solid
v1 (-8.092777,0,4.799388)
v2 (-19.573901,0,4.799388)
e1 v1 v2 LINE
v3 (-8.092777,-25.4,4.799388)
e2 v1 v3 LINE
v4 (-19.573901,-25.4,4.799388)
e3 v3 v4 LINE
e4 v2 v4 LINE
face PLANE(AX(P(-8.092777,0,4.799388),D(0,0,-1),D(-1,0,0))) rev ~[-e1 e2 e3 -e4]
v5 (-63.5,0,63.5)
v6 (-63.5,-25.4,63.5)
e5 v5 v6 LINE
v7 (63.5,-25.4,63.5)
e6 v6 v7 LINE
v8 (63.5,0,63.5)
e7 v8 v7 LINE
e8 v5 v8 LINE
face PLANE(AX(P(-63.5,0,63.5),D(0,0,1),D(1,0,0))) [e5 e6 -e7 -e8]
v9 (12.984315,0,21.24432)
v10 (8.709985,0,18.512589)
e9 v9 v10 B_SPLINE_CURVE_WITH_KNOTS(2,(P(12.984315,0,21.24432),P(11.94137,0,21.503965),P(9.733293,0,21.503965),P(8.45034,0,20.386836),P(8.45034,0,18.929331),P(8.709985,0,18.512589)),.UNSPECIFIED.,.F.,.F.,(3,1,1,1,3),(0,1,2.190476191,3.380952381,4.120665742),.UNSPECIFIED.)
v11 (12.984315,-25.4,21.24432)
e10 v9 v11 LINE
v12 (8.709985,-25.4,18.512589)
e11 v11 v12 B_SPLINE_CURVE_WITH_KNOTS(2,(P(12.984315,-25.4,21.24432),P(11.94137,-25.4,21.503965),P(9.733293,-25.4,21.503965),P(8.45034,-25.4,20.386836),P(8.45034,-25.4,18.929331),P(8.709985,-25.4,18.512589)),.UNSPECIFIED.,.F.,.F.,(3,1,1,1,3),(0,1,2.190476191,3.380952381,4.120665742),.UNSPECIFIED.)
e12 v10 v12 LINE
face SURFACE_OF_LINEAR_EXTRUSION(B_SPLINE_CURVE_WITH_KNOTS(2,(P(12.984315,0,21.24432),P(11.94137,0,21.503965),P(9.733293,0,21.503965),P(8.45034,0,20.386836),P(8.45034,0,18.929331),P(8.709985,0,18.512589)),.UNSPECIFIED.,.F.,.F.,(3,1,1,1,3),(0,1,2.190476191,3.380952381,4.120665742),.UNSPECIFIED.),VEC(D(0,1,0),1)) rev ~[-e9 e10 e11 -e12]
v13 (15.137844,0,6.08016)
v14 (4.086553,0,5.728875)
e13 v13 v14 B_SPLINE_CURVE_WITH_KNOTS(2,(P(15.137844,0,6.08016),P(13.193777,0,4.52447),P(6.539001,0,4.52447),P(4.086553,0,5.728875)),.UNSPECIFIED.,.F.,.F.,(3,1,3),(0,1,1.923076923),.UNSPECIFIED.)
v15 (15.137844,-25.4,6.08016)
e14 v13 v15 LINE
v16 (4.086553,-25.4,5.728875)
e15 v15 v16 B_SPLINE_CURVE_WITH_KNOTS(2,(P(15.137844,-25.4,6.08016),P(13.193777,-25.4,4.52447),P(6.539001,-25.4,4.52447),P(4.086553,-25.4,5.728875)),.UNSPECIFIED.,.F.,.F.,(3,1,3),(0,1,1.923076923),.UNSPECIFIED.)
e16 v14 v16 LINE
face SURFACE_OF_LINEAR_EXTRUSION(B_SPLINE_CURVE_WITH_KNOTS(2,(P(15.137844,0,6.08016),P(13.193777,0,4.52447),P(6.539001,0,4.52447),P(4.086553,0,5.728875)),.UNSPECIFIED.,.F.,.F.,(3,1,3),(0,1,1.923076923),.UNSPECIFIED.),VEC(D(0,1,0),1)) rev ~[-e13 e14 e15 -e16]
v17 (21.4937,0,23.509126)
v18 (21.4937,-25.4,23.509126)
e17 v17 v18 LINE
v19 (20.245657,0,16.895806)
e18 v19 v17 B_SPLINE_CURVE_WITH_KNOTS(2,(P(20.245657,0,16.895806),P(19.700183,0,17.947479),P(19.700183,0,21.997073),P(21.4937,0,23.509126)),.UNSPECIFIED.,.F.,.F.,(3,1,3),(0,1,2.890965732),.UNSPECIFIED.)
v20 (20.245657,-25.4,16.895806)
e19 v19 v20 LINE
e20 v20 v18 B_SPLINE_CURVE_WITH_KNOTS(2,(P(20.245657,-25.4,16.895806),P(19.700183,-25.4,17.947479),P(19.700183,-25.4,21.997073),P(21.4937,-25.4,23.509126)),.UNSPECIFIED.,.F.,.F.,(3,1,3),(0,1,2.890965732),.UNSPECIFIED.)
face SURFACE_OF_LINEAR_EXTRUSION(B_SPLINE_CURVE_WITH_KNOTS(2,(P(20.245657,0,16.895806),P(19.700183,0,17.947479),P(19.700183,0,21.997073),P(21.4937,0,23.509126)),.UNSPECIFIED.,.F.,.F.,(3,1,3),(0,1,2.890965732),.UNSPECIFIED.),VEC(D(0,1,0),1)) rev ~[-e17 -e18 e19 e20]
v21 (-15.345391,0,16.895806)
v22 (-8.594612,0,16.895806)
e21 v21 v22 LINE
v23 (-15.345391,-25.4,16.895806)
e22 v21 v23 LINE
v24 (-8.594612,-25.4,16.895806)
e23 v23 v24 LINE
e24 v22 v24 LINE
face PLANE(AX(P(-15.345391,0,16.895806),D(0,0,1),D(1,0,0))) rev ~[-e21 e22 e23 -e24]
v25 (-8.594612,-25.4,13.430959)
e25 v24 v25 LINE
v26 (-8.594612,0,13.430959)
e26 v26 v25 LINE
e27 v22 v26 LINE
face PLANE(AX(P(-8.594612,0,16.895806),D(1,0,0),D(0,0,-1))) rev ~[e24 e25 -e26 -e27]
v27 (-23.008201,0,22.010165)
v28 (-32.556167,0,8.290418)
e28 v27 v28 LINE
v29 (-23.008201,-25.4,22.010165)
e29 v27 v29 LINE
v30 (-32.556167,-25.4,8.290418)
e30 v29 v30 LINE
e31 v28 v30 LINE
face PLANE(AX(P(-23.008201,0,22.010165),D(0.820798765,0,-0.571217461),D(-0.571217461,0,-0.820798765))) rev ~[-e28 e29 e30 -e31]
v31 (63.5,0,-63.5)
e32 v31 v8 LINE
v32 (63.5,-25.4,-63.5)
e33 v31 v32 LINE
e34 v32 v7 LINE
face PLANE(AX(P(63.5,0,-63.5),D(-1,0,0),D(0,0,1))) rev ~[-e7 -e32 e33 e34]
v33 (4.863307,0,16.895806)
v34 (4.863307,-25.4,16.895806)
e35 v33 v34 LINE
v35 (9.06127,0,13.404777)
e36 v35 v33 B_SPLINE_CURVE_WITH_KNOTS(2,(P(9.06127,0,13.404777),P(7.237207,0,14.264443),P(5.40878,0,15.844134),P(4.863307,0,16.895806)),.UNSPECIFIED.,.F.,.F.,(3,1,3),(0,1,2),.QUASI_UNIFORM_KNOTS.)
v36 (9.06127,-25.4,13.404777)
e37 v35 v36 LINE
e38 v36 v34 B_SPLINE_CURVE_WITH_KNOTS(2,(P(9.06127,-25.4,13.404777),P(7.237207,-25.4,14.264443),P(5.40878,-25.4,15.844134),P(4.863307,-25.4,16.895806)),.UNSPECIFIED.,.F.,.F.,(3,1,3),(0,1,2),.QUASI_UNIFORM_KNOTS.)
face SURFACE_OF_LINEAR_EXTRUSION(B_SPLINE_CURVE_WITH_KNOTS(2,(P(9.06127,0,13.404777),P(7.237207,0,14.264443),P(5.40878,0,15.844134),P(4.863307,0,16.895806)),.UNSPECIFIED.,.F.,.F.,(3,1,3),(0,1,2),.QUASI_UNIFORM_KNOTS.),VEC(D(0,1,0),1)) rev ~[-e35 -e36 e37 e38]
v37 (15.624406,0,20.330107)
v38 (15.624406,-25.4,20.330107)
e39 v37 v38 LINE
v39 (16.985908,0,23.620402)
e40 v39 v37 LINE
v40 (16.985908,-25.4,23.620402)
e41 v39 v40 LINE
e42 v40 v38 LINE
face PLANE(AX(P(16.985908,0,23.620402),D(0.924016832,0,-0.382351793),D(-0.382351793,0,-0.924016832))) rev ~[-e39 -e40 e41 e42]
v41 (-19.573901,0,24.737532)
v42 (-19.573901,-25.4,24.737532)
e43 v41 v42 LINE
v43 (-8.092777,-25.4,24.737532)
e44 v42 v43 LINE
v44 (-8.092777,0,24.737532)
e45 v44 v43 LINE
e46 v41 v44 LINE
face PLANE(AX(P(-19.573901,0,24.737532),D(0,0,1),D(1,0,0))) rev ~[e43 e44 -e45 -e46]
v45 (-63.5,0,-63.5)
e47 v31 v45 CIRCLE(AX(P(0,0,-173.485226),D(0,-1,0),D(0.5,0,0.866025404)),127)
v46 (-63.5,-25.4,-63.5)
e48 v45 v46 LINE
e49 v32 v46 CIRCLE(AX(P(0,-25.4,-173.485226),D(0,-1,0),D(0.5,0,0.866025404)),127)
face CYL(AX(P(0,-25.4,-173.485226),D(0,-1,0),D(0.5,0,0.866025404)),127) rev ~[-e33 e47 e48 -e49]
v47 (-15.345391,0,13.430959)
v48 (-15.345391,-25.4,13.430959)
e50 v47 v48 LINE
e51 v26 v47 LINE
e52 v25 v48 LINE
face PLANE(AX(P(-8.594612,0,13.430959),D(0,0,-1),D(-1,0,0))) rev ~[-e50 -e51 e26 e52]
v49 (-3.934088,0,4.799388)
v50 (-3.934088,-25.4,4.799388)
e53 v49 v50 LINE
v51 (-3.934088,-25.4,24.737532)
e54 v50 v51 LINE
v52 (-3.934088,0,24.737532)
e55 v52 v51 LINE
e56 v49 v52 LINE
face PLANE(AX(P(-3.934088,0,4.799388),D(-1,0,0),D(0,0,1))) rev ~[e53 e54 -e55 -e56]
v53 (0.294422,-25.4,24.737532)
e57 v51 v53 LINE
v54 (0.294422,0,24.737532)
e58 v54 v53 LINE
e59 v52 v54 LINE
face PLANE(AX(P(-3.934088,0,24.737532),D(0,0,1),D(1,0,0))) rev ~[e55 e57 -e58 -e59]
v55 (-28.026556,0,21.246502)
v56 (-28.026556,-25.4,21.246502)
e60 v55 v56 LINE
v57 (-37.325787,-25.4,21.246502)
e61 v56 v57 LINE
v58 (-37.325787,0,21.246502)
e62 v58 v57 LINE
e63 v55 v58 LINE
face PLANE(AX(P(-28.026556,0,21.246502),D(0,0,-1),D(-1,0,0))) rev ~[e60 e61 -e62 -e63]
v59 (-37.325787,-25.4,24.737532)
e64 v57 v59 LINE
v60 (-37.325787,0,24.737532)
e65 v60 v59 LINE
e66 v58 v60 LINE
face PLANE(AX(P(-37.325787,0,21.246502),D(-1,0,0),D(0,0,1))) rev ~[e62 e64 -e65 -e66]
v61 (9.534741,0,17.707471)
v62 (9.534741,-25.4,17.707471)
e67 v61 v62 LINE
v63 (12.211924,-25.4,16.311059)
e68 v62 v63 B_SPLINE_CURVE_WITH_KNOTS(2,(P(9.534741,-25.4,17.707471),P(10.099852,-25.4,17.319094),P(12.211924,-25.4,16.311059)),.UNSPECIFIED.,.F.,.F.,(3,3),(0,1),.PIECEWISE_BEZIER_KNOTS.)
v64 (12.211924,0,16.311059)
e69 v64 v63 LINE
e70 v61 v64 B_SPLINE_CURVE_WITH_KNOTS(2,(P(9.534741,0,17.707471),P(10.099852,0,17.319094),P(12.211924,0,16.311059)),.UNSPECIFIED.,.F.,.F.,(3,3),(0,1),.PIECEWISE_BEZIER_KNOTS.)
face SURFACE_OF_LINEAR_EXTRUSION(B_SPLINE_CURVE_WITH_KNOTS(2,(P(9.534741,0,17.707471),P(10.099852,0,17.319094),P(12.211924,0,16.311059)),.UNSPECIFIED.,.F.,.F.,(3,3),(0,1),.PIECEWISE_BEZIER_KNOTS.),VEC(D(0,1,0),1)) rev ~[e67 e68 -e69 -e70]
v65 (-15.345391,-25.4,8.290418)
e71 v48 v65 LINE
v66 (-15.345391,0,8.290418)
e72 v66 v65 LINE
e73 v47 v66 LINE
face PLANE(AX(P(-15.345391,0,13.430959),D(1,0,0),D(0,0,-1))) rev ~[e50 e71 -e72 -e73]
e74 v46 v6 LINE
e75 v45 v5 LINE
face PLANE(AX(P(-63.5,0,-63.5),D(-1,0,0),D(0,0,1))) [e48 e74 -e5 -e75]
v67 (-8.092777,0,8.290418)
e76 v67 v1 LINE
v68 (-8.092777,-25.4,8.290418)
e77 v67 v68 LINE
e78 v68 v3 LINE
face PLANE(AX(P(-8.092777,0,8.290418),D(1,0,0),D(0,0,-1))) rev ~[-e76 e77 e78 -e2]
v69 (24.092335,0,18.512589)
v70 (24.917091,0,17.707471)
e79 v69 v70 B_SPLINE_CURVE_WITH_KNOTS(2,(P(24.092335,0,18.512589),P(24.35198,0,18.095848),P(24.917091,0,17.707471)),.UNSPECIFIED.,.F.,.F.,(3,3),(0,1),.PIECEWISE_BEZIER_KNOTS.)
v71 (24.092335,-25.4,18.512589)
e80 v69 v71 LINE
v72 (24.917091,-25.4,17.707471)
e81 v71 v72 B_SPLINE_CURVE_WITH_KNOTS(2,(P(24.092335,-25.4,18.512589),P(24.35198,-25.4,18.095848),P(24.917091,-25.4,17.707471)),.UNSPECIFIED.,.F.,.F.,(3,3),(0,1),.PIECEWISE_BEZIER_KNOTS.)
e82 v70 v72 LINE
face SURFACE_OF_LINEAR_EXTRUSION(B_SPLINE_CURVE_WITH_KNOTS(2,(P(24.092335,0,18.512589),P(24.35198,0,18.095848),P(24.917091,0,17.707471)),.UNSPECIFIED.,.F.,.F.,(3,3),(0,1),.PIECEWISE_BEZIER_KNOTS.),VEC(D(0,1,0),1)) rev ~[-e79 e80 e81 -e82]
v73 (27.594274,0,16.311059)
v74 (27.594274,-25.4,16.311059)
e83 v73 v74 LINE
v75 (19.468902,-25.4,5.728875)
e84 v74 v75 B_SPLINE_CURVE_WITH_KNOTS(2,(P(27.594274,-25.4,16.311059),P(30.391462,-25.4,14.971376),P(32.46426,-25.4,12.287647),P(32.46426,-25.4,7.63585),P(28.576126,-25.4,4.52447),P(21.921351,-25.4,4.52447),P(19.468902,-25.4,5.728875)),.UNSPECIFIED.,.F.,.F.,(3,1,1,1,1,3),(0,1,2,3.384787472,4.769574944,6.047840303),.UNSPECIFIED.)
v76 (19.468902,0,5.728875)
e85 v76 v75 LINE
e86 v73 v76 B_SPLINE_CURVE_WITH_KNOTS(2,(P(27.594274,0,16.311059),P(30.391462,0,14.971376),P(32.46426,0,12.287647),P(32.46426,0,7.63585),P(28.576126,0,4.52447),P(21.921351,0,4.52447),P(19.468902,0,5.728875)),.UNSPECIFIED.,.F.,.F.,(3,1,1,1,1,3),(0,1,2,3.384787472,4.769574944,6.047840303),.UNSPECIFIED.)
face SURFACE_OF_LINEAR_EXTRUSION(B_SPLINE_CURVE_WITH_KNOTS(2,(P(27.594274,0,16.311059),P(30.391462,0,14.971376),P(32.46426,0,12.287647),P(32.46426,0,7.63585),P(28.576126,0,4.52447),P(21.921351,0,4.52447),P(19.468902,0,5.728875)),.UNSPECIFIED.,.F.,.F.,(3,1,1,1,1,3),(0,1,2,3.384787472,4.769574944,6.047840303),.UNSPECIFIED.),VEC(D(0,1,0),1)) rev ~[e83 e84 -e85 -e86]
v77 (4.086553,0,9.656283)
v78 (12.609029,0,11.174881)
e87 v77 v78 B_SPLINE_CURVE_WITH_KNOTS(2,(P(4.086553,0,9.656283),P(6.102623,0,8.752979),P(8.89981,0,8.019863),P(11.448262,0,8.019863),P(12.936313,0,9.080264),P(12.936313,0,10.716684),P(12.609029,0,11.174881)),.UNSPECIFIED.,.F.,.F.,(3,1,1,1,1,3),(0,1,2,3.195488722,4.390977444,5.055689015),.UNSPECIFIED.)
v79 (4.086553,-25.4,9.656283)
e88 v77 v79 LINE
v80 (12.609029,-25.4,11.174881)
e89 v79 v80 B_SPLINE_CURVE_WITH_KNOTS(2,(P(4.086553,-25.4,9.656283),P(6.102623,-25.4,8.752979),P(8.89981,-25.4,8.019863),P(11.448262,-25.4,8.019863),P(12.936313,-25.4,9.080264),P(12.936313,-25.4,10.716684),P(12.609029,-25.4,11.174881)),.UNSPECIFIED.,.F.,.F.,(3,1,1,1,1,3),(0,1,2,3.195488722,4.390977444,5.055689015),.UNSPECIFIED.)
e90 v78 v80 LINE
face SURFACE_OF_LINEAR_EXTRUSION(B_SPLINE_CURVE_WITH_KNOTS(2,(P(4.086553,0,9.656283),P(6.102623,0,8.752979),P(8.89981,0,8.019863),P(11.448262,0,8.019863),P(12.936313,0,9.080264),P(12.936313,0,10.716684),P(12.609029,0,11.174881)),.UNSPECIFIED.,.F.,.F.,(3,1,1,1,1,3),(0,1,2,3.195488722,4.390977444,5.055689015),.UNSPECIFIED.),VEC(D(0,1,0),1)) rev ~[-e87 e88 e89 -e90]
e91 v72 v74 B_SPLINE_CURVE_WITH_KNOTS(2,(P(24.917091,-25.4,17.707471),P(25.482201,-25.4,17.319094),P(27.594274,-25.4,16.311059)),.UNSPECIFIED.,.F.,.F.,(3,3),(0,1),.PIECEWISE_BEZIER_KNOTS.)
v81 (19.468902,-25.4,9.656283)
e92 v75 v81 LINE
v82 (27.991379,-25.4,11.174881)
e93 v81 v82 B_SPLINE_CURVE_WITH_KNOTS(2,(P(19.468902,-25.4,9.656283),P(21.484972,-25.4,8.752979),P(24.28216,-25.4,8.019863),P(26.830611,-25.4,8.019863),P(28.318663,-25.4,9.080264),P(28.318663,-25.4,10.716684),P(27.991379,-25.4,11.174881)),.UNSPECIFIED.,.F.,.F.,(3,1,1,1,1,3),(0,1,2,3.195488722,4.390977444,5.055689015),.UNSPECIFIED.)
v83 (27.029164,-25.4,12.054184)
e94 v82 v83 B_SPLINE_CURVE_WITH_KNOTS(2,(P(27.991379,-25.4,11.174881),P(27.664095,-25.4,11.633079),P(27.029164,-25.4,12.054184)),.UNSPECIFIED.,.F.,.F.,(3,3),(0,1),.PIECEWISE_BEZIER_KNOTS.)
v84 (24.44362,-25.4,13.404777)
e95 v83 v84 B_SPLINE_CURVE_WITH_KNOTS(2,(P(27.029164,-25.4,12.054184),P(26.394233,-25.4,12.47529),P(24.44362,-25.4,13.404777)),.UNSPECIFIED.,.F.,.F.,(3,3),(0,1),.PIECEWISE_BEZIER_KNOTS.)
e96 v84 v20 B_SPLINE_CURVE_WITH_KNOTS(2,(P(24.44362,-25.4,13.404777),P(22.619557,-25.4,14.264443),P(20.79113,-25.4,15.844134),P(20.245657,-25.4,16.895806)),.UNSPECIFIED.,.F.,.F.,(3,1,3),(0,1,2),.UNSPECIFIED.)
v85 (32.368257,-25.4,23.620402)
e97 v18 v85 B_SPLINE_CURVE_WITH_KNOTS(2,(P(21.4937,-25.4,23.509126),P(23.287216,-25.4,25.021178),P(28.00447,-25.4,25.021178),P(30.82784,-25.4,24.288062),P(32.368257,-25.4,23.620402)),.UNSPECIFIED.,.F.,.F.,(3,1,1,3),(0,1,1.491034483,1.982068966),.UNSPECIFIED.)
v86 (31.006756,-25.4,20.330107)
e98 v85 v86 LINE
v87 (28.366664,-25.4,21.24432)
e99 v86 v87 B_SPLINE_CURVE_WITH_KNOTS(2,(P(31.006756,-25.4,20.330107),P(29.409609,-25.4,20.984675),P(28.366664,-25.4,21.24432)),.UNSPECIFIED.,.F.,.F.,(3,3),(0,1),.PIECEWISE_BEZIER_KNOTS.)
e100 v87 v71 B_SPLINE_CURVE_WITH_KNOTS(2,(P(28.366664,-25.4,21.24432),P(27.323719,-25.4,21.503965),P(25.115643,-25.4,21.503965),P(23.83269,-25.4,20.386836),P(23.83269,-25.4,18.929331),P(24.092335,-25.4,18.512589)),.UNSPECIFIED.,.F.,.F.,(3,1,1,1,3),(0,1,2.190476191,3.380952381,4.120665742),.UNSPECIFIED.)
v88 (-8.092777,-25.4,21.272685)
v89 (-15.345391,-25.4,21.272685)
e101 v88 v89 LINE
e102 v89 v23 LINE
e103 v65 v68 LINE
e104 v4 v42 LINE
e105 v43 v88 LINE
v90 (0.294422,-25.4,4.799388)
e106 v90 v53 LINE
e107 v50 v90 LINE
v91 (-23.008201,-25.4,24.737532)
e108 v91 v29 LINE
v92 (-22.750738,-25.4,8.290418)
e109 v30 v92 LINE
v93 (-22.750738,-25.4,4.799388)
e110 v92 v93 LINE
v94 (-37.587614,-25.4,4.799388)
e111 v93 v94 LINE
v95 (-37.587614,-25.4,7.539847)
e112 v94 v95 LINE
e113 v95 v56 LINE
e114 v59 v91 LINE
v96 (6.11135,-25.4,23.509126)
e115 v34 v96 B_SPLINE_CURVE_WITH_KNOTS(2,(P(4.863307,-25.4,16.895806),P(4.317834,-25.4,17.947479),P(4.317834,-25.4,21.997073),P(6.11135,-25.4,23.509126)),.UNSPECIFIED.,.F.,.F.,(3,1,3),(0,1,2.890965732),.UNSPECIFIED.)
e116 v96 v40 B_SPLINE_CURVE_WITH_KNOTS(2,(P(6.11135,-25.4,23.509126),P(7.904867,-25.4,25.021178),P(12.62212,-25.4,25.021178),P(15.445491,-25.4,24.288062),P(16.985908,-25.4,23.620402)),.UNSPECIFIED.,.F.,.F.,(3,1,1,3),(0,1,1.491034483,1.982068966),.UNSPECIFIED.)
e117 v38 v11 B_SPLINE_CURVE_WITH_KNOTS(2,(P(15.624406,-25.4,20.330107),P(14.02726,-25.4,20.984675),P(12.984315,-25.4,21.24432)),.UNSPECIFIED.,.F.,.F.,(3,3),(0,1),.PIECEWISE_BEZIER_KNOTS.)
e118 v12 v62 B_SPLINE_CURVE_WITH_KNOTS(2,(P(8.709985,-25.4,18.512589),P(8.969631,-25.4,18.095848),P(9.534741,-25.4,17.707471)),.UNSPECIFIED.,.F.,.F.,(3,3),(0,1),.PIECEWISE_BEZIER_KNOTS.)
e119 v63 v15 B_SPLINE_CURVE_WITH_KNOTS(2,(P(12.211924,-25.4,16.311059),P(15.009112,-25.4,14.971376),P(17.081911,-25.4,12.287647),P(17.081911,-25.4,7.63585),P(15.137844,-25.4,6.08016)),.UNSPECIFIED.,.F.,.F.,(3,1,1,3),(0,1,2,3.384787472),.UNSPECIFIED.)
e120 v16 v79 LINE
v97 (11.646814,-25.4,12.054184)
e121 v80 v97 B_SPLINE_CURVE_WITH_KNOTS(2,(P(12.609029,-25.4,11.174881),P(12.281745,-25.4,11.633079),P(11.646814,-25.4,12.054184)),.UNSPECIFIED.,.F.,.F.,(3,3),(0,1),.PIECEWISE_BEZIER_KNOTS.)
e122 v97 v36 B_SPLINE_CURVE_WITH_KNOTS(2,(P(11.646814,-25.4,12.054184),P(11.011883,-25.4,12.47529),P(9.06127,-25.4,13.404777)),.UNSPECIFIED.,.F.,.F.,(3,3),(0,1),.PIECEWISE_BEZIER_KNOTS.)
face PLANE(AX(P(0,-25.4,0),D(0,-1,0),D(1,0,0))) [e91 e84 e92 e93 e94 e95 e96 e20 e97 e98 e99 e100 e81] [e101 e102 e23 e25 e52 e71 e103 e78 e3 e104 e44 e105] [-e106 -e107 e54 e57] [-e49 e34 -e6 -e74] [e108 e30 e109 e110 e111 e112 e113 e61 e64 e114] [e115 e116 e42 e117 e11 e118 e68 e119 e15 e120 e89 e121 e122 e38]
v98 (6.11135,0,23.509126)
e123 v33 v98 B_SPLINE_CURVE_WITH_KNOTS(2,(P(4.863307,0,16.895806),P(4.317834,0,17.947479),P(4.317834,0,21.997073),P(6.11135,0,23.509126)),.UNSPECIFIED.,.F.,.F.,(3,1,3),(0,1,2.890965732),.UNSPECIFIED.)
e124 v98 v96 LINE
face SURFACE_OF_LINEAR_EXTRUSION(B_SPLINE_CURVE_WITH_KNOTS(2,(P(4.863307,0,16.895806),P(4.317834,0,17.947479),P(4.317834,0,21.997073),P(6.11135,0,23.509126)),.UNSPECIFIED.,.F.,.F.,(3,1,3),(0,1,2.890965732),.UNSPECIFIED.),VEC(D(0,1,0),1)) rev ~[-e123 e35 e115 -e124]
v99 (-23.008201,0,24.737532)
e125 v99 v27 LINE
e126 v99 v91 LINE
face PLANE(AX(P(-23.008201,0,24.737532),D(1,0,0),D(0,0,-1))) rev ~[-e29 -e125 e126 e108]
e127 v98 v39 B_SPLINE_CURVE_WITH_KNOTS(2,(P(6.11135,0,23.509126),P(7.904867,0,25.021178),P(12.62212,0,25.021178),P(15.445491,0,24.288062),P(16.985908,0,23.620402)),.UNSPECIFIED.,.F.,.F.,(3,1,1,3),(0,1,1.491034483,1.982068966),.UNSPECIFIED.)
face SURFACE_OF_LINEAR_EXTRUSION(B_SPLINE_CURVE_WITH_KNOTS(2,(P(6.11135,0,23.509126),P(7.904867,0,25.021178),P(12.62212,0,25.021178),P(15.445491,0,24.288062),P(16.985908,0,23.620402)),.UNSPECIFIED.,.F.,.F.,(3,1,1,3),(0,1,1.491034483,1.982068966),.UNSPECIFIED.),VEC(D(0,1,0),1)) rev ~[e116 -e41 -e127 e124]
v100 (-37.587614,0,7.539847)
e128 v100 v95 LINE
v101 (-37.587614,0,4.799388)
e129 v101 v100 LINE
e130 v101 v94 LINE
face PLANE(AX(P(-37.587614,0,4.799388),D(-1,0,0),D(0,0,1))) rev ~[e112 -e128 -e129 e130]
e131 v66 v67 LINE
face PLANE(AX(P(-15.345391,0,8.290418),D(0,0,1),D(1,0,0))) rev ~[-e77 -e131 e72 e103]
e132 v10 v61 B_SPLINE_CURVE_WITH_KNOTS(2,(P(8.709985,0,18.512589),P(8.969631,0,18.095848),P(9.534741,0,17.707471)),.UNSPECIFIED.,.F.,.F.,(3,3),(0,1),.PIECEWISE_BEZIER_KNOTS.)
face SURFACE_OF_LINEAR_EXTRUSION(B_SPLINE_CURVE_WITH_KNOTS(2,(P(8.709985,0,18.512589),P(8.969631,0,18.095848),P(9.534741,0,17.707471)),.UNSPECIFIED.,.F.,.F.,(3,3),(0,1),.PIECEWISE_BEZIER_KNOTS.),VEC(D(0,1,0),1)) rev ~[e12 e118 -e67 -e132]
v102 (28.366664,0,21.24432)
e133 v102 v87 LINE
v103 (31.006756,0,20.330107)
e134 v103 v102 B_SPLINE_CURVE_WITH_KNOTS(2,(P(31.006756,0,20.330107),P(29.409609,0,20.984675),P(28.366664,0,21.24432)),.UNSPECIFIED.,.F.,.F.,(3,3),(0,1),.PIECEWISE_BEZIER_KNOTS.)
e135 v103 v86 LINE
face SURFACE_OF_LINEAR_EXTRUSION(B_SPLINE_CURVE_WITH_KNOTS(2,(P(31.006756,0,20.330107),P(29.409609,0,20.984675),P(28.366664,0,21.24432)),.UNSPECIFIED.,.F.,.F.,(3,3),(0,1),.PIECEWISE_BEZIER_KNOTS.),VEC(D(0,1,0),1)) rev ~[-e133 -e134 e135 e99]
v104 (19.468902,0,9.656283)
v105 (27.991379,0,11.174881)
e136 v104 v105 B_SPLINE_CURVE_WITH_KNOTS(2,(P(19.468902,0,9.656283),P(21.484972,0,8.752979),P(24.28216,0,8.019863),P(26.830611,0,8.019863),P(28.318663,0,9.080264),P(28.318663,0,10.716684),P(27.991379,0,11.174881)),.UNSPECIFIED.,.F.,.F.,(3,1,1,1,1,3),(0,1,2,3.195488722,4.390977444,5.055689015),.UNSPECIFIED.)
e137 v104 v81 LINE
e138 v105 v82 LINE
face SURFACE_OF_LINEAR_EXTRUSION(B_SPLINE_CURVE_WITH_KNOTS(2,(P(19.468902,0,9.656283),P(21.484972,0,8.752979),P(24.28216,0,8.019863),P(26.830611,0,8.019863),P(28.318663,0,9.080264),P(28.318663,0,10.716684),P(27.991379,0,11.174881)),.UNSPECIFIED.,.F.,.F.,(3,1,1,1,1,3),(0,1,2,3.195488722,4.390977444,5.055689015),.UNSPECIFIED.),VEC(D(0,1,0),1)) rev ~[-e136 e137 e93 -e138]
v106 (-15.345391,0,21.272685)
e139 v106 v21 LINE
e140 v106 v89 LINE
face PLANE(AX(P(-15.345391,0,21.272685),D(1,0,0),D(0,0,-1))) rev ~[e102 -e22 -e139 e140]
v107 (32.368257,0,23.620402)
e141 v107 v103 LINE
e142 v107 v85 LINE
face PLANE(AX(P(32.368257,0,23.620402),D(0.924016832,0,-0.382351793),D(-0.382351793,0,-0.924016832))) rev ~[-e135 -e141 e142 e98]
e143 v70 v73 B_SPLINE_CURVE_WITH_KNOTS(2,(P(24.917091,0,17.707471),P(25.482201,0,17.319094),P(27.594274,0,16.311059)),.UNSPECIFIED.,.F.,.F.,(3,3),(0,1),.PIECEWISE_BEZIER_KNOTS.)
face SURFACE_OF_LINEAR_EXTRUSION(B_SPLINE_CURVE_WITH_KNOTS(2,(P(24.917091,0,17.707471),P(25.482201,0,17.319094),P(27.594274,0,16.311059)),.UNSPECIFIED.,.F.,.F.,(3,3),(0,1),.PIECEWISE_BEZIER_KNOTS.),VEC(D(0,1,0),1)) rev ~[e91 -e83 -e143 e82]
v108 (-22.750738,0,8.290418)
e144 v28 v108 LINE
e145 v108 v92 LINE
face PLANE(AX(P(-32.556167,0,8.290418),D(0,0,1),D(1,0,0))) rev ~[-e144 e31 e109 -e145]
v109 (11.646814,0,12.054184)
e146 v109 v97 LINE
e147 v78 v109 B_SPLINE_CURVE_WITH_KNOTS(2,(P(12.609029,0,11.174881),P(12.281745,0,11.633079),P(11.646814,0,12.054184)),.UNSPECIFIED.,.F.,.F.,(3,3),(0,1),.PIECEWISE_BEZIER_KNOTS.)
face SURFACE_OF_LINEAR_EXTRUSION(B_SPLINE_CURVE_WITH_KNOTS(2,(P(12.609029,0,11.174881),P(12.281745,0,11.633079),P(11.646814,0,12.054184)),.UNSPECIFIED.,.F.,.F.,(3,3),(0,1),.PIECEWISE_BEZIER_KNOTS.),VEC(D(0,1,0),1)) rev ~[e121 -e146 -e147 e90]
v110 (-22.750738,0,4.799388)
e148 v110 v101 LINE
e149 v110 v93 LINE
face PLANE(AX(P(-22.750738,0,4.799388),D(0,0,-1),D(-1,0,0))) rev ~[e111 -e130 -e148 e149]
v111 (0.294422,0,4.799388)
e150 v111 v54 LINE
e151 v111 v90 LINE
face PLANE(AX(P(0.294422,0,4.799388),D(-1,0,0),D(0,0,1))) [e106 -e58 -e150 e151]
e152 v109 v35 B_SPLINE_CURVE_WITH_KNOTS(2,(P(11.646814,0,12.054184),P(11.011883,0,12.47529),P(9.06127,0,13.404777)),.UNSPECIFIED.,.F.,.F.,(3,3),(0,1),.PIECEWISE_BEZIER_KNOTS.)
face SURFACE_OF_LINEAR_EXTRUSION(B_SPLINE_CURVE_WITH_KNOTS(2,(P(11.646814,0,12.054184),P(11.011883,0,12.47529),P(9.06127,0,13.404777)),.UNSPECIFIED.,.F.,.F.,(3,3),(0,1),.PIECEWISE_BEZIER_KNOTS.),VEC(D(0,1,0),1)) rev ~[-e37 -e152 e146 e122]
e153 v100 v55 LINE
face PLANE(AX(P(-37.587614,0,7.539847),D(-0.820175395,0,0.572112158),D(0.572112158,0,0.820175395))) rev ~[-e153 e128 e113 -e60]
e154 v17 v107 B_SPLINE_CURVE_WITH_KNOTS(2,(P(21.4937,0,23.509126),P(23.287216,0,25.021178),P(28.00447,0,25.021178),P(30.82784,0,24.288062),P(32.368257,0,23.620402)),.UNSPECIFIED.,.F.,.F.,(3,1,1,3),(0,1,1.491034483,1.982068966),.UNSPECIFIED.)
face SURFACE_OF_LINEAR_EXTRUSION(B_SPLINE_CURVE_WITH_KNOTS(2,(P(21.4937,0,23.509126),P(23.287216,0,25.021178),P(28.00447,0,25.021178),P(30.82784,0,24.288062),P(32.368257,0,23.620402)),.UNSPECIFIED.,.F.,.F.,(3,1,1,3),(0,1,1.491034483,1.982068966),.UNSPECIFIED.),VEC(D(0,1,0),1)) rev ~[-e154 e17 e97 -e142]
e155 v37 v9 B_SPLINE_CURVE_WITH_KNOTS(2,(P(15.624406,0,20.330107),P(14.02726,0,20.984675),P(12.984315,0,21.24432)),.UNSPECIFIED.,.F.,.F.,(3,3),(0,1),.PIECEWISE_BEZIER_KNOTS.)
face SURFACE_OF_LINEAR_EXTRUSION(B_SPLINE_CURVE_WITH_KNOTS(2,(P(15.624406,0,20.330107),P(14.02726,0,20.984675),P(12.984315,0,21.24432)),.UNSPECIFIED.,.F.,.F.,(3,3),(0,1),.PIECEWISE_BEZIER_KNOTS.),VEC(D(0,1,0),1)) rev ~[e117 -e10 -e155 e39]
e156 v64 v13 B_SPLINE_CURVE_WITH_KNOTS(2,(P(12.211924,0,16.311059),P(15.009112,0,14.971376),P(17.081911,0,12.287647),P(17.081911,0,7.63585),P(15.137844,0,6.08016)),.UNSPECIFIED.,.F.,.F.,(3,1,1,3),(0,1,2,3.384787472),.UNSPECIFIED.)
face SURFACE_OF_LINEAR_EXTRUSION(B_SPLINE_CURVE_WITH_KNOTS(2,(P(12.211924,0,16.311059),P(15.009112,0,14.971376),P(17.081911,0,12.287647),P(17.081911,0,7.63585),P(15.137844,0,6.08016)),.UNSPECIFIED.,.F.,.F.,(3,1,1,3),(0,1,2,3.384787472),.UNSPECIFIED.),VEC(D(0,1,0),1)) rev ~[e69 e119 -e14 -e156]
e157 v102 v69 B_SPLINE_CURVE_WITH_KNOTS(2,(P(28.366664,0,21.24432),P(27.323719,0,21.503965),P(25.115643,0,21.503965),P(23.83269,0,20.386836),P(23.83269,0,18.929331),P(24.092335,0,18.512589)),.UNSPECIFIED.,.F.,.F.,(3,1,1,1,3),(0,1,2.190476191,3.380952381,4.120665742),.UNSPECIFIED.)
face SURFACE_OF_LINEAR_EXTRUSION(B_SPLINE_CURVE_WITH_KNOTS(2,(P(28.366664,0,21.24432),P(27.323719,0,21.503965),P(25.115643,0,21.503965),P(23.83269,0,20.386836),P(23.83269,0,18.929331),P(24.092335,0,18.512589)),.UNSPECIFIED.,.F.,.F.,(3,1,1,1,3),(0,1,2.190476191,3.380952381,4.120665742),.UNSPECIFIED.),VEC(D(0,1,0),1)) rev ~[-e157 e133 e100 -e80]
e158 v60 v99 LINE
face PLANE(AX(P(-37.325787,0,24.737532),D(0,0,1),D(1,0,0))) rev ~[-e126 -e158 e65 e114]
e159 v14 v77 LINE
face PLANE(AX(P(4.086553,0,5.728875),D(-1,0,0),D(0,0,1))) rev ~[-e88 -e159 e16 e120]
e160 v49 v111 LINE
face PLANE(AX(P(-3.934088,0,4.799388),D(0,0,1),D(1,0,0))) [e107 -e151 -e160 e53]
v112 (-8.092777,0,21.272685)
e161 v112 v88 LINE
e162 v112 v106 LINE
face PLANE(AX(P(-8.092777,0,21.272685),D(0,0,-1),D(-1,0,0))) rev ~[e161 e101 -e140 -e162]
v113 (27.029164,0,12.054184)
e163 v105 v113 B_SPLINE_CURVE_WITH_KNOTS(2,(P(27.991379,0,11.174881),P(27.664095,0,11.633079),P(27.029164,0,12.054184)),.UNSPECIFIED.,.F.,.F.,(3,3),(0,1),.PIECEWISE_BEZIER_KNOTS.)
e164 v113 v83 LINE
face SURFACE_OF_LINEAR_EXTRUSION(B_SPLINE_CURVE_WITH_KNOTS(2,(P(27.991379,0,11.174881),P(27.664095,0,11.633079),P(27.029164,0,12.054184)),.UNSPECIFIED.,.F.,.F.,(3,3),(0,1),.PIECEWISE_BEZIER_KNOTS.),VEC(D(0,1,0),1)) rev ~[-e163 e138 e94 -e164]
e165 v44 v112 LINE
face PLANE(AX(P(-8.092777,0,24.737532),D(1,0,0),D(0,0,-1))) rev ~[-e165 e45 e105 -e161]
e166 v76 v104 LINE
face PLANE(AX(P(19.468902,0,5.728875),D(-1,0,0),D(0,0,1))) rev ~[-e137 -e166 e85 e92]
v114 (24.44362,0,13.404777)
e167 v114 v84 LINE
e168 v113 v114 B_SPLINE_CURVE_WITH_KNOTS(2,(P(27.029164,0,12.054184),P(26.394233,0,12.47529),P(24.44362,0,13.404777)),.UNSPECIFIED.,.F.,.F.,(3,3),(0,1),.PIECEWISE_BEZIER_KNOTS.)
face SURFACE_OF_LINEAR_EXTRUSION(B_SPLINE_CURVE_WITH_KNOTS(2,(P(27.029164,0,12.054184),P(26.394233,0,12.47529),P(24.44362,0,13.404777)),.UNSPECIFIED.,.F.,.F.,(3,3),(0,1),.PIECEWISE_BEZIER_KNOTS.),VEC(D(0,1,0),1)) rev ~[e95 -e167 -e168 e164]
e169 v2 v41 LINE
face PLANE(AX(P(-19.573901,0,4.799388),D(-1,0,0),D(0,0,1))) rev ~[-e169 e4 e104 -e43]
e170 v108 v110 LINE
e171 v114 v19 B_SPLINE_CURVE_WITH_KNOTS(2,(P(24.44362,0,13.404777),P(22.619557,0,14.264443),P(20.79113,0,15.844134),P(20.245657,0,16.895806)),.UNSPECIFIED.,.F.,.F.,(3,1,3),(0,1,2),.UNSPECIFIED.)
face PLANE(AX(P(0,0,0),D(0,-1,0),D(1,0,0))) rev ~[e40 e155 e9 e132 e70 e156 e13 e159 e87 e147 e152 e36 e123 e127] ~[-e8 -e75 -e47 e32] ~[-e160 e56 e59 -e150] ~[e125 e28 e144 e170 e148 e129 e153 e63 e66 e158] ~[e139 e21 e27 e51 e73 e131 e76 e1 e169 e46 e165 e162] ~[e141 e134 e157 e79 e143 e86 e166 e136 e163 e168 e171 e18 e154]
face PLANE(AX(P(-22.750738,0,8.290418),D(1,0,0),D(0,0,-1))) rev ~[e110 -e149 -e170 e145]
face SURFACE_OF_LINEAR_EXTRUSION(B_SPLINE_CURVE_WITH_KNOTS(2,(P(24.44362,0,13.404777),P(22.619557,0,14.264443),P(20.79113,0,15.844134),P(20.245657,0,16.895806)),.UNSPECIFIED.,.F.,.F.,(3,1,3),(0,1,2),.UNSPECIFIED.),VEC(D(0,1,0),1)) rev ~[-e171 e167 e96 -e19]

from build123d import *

# Parameters (mm, degrees)
F0_W     = 127
F0_H     = 127
F0_W_2   = 4.2285097079
F0_H_2   = 19.9381432976
F1_DEPTH = 25.4
F3_DEPTH = 25.4


with BuildPart() as f1:
    # F0 (on Front) → F1 (new body)
    with BuildSketch(Plane.XZ):
        Rectangle(F0_W, F0_H)
        Polygon((-22.7507378271, 8.2904180357), (-22.7507378271, 4.7993883491), (-37.5876139951, 4.7993883491), (-37.5876139951, 7.539846653), (-28.0265564409, 21.2465019601), (-37.3257867686, 21.2465019601), (-37.3257867686, 24.7375316467), (-23.0082012664, 24.7375316467), (-23.0082012664, 22.010164704), (-32.5561674593, 8.2904180357), align=None, mode=Mode.SUBTRACT)
        Polygon((-8.0927769304, 8.2904180357), (-8.0927769304, 4.7993883491), (-19.5739008122, 4.7993883491), (-19.5739008122, 24.7375316467), (-8.0927769304, 24.7375316467), (-8.0927769304, 21.2726846827), (-15.3453911043, 21.2726846827), (-15.3453911043, 16.8958062131), (-8.5946124479, 16.8958062131), (-8.5946124479, 13.4309592492), (-15.3453911043, 13.4309592492), (-15.3453911043, 8.2904180357), align=None, mode=Mode.SUBTRACT)
        with Locations((-1.8198329623, 14.7684599979)):
            Rectangle(F0_W_2, F0_H_2, mode=Mode.SUBTRACT)
        with BuildLine():
            add(Edge.make_bspline(
                [(16.0455114589, 13.6295115626), (17.0819108971, 12.2876470268), (17.0819108971, 10.3370341894)],
                knots=[0, 0, 0, 1, 1, 1], degree=2))
            add(Edge.make_bspline(
                [(17.0819108971, 10.3370341894), (17.0819108971, 7.6358499694), (15.1378437404, 6.0801598653)],
                knots=[0, 0, 0, 1, 1, 1], degree=2))
            add(Edge.make_bspline(
                [(15.1378437404, 6.0801598653), (13.1937765836, 4.5244697612), (9.7332934068, 4.5244697612)],
                knots=[0, 0, 0, 1, 1, 1], degree=2))
            add(Edge.make_bspline(
                [(9.7332934068, 4.5244697612), (6.5390012436, 4.5244697612), (4.0865528887, 5.7288750031)],
                knots=[0, 0, 0, 1, 1, 1], degree=2))
            Line((4.0865528887, 5.7288750031), (4.0865528887, 9.6562834005))
            add(Edge.make_bspline(
                [(4.0865528887, 9.6562834005), (6.1026225327, 8.7529794691), (7.5012163009, 8.386421352)],
                knots=[0, 0, 0, 1, 1, 1], degree=2))
            add(Edge.make_bspline(
                [(7.5012163009, 8.386421352), (8.8998100691, 8.0198632349), (10.0605774399, 8.0198632349)],
                knots=[0, 0, 0, 1, 1, 1], degree=2))
            add(Edge.make_bspline(
                [(10.0605774399, 8.0198632349), (11.4482617403, 8.0198632349), (12.1922874423, 8.5500633686)],
                knots=[0, 0, 0, 1, 1, 1], degree=2))
            add(Edge.make_bspline(
                [(12.1922874423, 8.5500633686), (12.9363131443, 9.0802635023), (12.9363131443, 10.1319361953)],
                knots=[0, 0, 0, 1, 1, 1], degree=2))
            add(Edge.make_bspline(
                [(12.9363131443, 10.1319361953), (12.9363131443, 10.7166836679), (12.6090291111, 11.1748813142)],
                knots=[0, 0, 0, 1, 1, 1], degree=2))
            add(Edge.make_bspline(
                [(12.6090291111, 11.1748813142), (12.281745078, 11.6330789606), (11.6468140538, 12.0541844165)],
                knots=[0, 0, 0, 1, 1, 1], degree=2))
            add(Edge.make_bspline(
                [(11.6468140538, 12.0541844165), (11.0118830295, 12.4752898725), (9.0612701921, 13.4047765265)],
                knots=[0, 0, 0, 1, 1, 1], degree=2))
            add(Edge.make_bspline(
                [(9.0612701921, 13.4047765265), (7.2372071809, 14.2644425869), (6.3229937817, 15.0542880535)],
                knots=[0, 0, 0, 1, 1, 1], degree=2))
            add(Edge.make_bspline(
                [(6.3229937817, 15.0542880535), (5.4087803825, 15.8441335201), (4.863306994, 16.8958062131)],
                knots=[0, 0, 0, 1, 1, 1], degree=2))
            add(Edge.make_bspline(
                [(4.863306994, 16.8958062131), (4.3178336055, 17.9474789062), (4.3178336055, 19.348254568)],
                knots=[0, 0, 0, 1, 1, 1], degree=2))
            add(Edge.make_bspline(
                [(4.3178336055, 19.348254568), (4.3178336055, 21.9970733427), (6.1113501069, 23.5091255757)],
                knots=[0, 0, 0, 1, 1, 1], degree=2))
            add(Edge.make_bspline(
                [(6.1113501069, 23.5091255757), (7.9048666084, 25.0211778087), (11.0686122619, 25.0211778087)],
                knots=[0, 0, 0, 1, 1, 1], degree=2))
            add(Edge.make_bspline(
                [(11.0686122619, 25.0211778087), (12.6221204725, 25.0211778087), (14.033805602, 24.6546196916)],
                knots=[0, 0, 0, 1, 1, 1], degree=2))
            add(Edge.make_bspline(
                [(14.033805602, 24.6546196916), (15.4454907315, 24.2880615745), (16.9859075807, 23.620402147)],
                knots=[0, 0, 0, 1, 1, 1], degree=2))
            Line((16.9859075807, 23.620402147), (15.6244060029, 20.3301066673))
            add(Edge.make_bspline(
                [(15.6244060029, 20.3301066673), (14.0272599213, 20.9846747336), (12.9843148025, 21.2443200665)],
                knots=[0, 0, 0, 1, 1, 1], degree=2))
            add(Edge.make_bspline(
                [(12.9843148025, 21.2443200665), (11.9413696836, 21.5039653995), (10.9333348616, 21.5039653995)],
                knots=[0, 0, 0, 1, 1, 1], degree=2))
            add(Edge.make_bspline(
                [(10.9333348616, 21.5039653995), (9.7332934068, 21.5039653995), (9.0918167019, 20.9454006496)],
                knots=[0, 0, 0, 1, 1, 1], degree=2))
            add(Edge.make_bspline(
                [(9.0918167019, 20.9454006496), (8.450339997, 20.3868358997), (8.450339997, 19.4878957554)],
                knots=[0, 0, 0, 1, 1, 1], degree=2))
            add(Edge.make_bspline(
                [(8.450339997, 19.4878957554), (8.450339997, 18.9293310056), (8.7099853299, 18.5125893368)],
                knots=[0, 0, 0, 1, 1, 1], degree=2))
            add(Edge.make_bspline(
                [(8.7099853299, 18.5125893368), (8.9696306629, 18.0958476679), (9.5347410934, 17.7074706153)],
                knots=[0, 0, 0, 1, 1, 1], degree=2))
            add(Edge.make_bspline(
                [(9.5347410934, 17.7074706153), (10.0998515239, 17.3190935626), (12.2119244843, 16.3110587406)],
                knots=[0, 0, 0, 1, 1, 1], degree=2))
            add(Edge.make_bspline(
                [(12.2119244843, 16.3110587406), (15.0091120207, 14.9713760984), (16.0455114589, 13.6295115626)],
                knots=[0, 0, 0, 1, 1, 1], degree=2))
        make_face(mode=Mode.SUBTRACT)
        with BuildLine():
            add(Edge.make_bspline(
                [(31.4278610155, 13.6295115626), (32.4642604537, 12.2876470268), (32.4642604537, 10.3370341894)],
                knots=[0, 0, 0, 1, 1, 1], degree=2))
            add(Edge.make_bspline(
                [(32.4642604537, 10.3370341894), (32.4642604537, 7.6358499694), (30.520193297, 6.0801598653)],
                knots=[0, 0, 0, 1, 1, 1], degree=2))
            add(Edge.make_bspline(
                [(30.520193297, 6.0801598653), (28.5761261403, 4.5244697612), (25.1156429634, 4.5244697612)],
                knots=[0, 0, 0, 1, 1, 1], degree=2))
            add(Edge.make_bspline(
                [(25.1156429634, 4.5244697612), (21.9213508002, 4.5244697612), (19.4689024453, 5.7288750031)],
                knots=[0, 0, 0, 1, 1, 1], degree=2))
            Line((19.4689024453, 5.7288750031), (19.4689024453, 9.6562834005))
            add(Edge.make_bspline(
                [(19.4689024453, 9.6562834005), (21.4849720893, 8.7529794691), (22.8835658575, 8.386421352)],
                knots=[0, 0, 0, 1, 1, 1], degree=2))
            add(Edge.make_bspline(
                [(22.8835658575, 8.386421352), (24.2821596257, 8.0198632349), (25.4429269965, 8.0198632349)],
                knots=[0, 0, 0, 1, 1, 1], degree=2))
            add(Edge.make_bspline(
                [(25.4429269965, 8.0198632349), (26.8306112969, 8.0198632349), (27.5746369989, 8.5500633686)],
                knots=[0, 0, 0, 1, 1, 1], degree=2))
            add(Edge.make_bspline(
                [(27.5746369989, 8.5500633686), (28.3186627009, 9.0802635023), (28.3186627009, 10.1319361953)],
                knots=[0, 0, 0, 1, 1, 1], degree=2))
            add(Edge.make_bspline(
                [(28.3186627009, 10.1319361953), (28.3186627009, 10.7166836679), (27.9913786677, 11.1748813142)],
                knots=[0, 0, 0, 1, 1, 1], degree=2))
            add(Edge.make_bspline(
                [(27.9913786677, 11.1748813142), (27.6640946346, 11.6330789606), (27.0291636104, 12.0541844165)],
                knots=[0, 0, 0, 1, 1, 1], degree=2))
            add(Edge.make_bspline(
                [(27.0291636104, 12.0541844165), (26.3942325861, 12.4752898725), (24.4436197487, 13.4047765265)],
                knots=[0, 0, 0, 1, 1, 1], degree=2))
            add(Edge.make_bspline(
                [(24.4436197487, 13.4047765265), (22.6195567375, 14.2644425869), (21.7053433383, 15.0542880535)],
                knots=[0, 0, 0, 1, 1, 1], degree=2))
            add(Edge.make_bspline(
                [(21.7053433383, 15.0542880535), (20.7911299391, 15.8441335201), (20.2456565506, 16.8958062131)],
                knots=[0, 0, 0, 1, 1, 1], degree=2))
            add(Edge.make_bspline(
                [(20.2456565506, 16.8958062131), (19.7001831621, 17.9474789062), (19.7001831621, 19.348254568)],
                knots=[0, 0, 0, 1, 1, 1], degree=2))
            add(Edge.make_bspline(
                [(19.7001831621, 19.348254568), (19.7001831621, 21.9970733427), (21.4936996636, 23.5091255757)],
                knots=[0, 0, 0, 1, 1, 1], degree=2))
            add(Edge.make_bspline(
                [(21.4936996636, 23.5091255757), (23.287216165, 25.0211778087), (26.4509618185, 25.0211778087)],
                knots=[0, 0, 0, 1, 1, 1], degree=2))
            add(Edge.make_bspline(
                [(26.4509618185, 25.0211778087), (28.0044700291, 25.0211778087), (29.4161551586, 24.6546196916)],
                knots=[0, 0, 0, 1, 1, 1], degree=2))
            add(Edge.make_bspline(
                [(29.4161551586, 24.6546196916), (30.8278402881, 24.2880615745), (32.3682571373, 23.620402147)],
                knots=[0, 0, 0, 1, 1, 1], degree=2))
            Line((32.3682571373, 23.620402147), (31.0067555595, 20.3301066673))
            add(Edge.make_bspline(
                [(31.0067555595, 20.3301066673), (29.4096094779, 20.9846747336), (28.3666643591, 21.2443200665)],
                knots=[0, 0, 0, 1, 1, 1], degree=2))
            add(Edge.make_bspline(
                [(28.3666643591, 21.2443200665), (27.3237192402, 21.5039653995), (26.3156844182, 21.5039653995)],
                knots=[0, 0, 0, 1, 1, 1], degree=2))
            add(Edge.make_bspline(
                [(26.3156844182, 21.5039653995), (25.1156429634, 21.5039653995), (24.4741662585, 20.9454006496)],
                knots=[0, 0, 0, 1, 1, 1], degree=2))
            add(Edge.make_bspline(
                [(24.4741662585, 20.9454006496), (23.8326895536, 20.3868358997), (23.8326895536, 19.4878957554)],
                knots=[0, 0, 0, 1, 1, 1], degree=2))
            add(Edge.make_bspline(
                [(23.8326895536, 19.4878957554), (23.8326895536, 18.9293310056), (24.0923348865, 18.5125893368)],
                knots=[0, 0, 0, 1, 1, 1], degree=2))
            add(Edge.make_bspline(
                [(24.0923348865, 18.5125893368), (24.3519802195, 18.0958476679), (24.91709065, 17.7074706153)],
                knots=[0, 0, 0, 1, 1, 1], degree=2))
            add(Edge.make_bspline(
                [(24.91709065, 17.7074706153), (25.4822010805, 17.3190935626), (27.5942740409, 16.3110587406)],
                knots=[0, 0, 0, 1, 1, 1], degree=2))
            add(Edge.make_bspline(
                [(27.5942740409, 16.3110587406), (30.3914615773, 14.9713760984), (31.4278610155, 13.6295115626)],
                knots=[0, 0, 0, 1, 1, 1], degree=2))
        make_face(mode=Mode.SUBTRACT)
    extrude(amount=F1_DEPTH)

    # F2 (on face) → F3 (cut)
    with BuildSketch(Plane.XZ.offset(25.4)):
        with BuildLine():
            Line((-63.5, -63.5), (63.5, -63.5))
            ThreePointArc((63.5, -63.5), (0, -46.4852262806), (-63.5, -63.5))
        make_face()
    extrude(amount=-F3_DEPTH, mode=Mode.SUBTRACT)


solid = f1.part
